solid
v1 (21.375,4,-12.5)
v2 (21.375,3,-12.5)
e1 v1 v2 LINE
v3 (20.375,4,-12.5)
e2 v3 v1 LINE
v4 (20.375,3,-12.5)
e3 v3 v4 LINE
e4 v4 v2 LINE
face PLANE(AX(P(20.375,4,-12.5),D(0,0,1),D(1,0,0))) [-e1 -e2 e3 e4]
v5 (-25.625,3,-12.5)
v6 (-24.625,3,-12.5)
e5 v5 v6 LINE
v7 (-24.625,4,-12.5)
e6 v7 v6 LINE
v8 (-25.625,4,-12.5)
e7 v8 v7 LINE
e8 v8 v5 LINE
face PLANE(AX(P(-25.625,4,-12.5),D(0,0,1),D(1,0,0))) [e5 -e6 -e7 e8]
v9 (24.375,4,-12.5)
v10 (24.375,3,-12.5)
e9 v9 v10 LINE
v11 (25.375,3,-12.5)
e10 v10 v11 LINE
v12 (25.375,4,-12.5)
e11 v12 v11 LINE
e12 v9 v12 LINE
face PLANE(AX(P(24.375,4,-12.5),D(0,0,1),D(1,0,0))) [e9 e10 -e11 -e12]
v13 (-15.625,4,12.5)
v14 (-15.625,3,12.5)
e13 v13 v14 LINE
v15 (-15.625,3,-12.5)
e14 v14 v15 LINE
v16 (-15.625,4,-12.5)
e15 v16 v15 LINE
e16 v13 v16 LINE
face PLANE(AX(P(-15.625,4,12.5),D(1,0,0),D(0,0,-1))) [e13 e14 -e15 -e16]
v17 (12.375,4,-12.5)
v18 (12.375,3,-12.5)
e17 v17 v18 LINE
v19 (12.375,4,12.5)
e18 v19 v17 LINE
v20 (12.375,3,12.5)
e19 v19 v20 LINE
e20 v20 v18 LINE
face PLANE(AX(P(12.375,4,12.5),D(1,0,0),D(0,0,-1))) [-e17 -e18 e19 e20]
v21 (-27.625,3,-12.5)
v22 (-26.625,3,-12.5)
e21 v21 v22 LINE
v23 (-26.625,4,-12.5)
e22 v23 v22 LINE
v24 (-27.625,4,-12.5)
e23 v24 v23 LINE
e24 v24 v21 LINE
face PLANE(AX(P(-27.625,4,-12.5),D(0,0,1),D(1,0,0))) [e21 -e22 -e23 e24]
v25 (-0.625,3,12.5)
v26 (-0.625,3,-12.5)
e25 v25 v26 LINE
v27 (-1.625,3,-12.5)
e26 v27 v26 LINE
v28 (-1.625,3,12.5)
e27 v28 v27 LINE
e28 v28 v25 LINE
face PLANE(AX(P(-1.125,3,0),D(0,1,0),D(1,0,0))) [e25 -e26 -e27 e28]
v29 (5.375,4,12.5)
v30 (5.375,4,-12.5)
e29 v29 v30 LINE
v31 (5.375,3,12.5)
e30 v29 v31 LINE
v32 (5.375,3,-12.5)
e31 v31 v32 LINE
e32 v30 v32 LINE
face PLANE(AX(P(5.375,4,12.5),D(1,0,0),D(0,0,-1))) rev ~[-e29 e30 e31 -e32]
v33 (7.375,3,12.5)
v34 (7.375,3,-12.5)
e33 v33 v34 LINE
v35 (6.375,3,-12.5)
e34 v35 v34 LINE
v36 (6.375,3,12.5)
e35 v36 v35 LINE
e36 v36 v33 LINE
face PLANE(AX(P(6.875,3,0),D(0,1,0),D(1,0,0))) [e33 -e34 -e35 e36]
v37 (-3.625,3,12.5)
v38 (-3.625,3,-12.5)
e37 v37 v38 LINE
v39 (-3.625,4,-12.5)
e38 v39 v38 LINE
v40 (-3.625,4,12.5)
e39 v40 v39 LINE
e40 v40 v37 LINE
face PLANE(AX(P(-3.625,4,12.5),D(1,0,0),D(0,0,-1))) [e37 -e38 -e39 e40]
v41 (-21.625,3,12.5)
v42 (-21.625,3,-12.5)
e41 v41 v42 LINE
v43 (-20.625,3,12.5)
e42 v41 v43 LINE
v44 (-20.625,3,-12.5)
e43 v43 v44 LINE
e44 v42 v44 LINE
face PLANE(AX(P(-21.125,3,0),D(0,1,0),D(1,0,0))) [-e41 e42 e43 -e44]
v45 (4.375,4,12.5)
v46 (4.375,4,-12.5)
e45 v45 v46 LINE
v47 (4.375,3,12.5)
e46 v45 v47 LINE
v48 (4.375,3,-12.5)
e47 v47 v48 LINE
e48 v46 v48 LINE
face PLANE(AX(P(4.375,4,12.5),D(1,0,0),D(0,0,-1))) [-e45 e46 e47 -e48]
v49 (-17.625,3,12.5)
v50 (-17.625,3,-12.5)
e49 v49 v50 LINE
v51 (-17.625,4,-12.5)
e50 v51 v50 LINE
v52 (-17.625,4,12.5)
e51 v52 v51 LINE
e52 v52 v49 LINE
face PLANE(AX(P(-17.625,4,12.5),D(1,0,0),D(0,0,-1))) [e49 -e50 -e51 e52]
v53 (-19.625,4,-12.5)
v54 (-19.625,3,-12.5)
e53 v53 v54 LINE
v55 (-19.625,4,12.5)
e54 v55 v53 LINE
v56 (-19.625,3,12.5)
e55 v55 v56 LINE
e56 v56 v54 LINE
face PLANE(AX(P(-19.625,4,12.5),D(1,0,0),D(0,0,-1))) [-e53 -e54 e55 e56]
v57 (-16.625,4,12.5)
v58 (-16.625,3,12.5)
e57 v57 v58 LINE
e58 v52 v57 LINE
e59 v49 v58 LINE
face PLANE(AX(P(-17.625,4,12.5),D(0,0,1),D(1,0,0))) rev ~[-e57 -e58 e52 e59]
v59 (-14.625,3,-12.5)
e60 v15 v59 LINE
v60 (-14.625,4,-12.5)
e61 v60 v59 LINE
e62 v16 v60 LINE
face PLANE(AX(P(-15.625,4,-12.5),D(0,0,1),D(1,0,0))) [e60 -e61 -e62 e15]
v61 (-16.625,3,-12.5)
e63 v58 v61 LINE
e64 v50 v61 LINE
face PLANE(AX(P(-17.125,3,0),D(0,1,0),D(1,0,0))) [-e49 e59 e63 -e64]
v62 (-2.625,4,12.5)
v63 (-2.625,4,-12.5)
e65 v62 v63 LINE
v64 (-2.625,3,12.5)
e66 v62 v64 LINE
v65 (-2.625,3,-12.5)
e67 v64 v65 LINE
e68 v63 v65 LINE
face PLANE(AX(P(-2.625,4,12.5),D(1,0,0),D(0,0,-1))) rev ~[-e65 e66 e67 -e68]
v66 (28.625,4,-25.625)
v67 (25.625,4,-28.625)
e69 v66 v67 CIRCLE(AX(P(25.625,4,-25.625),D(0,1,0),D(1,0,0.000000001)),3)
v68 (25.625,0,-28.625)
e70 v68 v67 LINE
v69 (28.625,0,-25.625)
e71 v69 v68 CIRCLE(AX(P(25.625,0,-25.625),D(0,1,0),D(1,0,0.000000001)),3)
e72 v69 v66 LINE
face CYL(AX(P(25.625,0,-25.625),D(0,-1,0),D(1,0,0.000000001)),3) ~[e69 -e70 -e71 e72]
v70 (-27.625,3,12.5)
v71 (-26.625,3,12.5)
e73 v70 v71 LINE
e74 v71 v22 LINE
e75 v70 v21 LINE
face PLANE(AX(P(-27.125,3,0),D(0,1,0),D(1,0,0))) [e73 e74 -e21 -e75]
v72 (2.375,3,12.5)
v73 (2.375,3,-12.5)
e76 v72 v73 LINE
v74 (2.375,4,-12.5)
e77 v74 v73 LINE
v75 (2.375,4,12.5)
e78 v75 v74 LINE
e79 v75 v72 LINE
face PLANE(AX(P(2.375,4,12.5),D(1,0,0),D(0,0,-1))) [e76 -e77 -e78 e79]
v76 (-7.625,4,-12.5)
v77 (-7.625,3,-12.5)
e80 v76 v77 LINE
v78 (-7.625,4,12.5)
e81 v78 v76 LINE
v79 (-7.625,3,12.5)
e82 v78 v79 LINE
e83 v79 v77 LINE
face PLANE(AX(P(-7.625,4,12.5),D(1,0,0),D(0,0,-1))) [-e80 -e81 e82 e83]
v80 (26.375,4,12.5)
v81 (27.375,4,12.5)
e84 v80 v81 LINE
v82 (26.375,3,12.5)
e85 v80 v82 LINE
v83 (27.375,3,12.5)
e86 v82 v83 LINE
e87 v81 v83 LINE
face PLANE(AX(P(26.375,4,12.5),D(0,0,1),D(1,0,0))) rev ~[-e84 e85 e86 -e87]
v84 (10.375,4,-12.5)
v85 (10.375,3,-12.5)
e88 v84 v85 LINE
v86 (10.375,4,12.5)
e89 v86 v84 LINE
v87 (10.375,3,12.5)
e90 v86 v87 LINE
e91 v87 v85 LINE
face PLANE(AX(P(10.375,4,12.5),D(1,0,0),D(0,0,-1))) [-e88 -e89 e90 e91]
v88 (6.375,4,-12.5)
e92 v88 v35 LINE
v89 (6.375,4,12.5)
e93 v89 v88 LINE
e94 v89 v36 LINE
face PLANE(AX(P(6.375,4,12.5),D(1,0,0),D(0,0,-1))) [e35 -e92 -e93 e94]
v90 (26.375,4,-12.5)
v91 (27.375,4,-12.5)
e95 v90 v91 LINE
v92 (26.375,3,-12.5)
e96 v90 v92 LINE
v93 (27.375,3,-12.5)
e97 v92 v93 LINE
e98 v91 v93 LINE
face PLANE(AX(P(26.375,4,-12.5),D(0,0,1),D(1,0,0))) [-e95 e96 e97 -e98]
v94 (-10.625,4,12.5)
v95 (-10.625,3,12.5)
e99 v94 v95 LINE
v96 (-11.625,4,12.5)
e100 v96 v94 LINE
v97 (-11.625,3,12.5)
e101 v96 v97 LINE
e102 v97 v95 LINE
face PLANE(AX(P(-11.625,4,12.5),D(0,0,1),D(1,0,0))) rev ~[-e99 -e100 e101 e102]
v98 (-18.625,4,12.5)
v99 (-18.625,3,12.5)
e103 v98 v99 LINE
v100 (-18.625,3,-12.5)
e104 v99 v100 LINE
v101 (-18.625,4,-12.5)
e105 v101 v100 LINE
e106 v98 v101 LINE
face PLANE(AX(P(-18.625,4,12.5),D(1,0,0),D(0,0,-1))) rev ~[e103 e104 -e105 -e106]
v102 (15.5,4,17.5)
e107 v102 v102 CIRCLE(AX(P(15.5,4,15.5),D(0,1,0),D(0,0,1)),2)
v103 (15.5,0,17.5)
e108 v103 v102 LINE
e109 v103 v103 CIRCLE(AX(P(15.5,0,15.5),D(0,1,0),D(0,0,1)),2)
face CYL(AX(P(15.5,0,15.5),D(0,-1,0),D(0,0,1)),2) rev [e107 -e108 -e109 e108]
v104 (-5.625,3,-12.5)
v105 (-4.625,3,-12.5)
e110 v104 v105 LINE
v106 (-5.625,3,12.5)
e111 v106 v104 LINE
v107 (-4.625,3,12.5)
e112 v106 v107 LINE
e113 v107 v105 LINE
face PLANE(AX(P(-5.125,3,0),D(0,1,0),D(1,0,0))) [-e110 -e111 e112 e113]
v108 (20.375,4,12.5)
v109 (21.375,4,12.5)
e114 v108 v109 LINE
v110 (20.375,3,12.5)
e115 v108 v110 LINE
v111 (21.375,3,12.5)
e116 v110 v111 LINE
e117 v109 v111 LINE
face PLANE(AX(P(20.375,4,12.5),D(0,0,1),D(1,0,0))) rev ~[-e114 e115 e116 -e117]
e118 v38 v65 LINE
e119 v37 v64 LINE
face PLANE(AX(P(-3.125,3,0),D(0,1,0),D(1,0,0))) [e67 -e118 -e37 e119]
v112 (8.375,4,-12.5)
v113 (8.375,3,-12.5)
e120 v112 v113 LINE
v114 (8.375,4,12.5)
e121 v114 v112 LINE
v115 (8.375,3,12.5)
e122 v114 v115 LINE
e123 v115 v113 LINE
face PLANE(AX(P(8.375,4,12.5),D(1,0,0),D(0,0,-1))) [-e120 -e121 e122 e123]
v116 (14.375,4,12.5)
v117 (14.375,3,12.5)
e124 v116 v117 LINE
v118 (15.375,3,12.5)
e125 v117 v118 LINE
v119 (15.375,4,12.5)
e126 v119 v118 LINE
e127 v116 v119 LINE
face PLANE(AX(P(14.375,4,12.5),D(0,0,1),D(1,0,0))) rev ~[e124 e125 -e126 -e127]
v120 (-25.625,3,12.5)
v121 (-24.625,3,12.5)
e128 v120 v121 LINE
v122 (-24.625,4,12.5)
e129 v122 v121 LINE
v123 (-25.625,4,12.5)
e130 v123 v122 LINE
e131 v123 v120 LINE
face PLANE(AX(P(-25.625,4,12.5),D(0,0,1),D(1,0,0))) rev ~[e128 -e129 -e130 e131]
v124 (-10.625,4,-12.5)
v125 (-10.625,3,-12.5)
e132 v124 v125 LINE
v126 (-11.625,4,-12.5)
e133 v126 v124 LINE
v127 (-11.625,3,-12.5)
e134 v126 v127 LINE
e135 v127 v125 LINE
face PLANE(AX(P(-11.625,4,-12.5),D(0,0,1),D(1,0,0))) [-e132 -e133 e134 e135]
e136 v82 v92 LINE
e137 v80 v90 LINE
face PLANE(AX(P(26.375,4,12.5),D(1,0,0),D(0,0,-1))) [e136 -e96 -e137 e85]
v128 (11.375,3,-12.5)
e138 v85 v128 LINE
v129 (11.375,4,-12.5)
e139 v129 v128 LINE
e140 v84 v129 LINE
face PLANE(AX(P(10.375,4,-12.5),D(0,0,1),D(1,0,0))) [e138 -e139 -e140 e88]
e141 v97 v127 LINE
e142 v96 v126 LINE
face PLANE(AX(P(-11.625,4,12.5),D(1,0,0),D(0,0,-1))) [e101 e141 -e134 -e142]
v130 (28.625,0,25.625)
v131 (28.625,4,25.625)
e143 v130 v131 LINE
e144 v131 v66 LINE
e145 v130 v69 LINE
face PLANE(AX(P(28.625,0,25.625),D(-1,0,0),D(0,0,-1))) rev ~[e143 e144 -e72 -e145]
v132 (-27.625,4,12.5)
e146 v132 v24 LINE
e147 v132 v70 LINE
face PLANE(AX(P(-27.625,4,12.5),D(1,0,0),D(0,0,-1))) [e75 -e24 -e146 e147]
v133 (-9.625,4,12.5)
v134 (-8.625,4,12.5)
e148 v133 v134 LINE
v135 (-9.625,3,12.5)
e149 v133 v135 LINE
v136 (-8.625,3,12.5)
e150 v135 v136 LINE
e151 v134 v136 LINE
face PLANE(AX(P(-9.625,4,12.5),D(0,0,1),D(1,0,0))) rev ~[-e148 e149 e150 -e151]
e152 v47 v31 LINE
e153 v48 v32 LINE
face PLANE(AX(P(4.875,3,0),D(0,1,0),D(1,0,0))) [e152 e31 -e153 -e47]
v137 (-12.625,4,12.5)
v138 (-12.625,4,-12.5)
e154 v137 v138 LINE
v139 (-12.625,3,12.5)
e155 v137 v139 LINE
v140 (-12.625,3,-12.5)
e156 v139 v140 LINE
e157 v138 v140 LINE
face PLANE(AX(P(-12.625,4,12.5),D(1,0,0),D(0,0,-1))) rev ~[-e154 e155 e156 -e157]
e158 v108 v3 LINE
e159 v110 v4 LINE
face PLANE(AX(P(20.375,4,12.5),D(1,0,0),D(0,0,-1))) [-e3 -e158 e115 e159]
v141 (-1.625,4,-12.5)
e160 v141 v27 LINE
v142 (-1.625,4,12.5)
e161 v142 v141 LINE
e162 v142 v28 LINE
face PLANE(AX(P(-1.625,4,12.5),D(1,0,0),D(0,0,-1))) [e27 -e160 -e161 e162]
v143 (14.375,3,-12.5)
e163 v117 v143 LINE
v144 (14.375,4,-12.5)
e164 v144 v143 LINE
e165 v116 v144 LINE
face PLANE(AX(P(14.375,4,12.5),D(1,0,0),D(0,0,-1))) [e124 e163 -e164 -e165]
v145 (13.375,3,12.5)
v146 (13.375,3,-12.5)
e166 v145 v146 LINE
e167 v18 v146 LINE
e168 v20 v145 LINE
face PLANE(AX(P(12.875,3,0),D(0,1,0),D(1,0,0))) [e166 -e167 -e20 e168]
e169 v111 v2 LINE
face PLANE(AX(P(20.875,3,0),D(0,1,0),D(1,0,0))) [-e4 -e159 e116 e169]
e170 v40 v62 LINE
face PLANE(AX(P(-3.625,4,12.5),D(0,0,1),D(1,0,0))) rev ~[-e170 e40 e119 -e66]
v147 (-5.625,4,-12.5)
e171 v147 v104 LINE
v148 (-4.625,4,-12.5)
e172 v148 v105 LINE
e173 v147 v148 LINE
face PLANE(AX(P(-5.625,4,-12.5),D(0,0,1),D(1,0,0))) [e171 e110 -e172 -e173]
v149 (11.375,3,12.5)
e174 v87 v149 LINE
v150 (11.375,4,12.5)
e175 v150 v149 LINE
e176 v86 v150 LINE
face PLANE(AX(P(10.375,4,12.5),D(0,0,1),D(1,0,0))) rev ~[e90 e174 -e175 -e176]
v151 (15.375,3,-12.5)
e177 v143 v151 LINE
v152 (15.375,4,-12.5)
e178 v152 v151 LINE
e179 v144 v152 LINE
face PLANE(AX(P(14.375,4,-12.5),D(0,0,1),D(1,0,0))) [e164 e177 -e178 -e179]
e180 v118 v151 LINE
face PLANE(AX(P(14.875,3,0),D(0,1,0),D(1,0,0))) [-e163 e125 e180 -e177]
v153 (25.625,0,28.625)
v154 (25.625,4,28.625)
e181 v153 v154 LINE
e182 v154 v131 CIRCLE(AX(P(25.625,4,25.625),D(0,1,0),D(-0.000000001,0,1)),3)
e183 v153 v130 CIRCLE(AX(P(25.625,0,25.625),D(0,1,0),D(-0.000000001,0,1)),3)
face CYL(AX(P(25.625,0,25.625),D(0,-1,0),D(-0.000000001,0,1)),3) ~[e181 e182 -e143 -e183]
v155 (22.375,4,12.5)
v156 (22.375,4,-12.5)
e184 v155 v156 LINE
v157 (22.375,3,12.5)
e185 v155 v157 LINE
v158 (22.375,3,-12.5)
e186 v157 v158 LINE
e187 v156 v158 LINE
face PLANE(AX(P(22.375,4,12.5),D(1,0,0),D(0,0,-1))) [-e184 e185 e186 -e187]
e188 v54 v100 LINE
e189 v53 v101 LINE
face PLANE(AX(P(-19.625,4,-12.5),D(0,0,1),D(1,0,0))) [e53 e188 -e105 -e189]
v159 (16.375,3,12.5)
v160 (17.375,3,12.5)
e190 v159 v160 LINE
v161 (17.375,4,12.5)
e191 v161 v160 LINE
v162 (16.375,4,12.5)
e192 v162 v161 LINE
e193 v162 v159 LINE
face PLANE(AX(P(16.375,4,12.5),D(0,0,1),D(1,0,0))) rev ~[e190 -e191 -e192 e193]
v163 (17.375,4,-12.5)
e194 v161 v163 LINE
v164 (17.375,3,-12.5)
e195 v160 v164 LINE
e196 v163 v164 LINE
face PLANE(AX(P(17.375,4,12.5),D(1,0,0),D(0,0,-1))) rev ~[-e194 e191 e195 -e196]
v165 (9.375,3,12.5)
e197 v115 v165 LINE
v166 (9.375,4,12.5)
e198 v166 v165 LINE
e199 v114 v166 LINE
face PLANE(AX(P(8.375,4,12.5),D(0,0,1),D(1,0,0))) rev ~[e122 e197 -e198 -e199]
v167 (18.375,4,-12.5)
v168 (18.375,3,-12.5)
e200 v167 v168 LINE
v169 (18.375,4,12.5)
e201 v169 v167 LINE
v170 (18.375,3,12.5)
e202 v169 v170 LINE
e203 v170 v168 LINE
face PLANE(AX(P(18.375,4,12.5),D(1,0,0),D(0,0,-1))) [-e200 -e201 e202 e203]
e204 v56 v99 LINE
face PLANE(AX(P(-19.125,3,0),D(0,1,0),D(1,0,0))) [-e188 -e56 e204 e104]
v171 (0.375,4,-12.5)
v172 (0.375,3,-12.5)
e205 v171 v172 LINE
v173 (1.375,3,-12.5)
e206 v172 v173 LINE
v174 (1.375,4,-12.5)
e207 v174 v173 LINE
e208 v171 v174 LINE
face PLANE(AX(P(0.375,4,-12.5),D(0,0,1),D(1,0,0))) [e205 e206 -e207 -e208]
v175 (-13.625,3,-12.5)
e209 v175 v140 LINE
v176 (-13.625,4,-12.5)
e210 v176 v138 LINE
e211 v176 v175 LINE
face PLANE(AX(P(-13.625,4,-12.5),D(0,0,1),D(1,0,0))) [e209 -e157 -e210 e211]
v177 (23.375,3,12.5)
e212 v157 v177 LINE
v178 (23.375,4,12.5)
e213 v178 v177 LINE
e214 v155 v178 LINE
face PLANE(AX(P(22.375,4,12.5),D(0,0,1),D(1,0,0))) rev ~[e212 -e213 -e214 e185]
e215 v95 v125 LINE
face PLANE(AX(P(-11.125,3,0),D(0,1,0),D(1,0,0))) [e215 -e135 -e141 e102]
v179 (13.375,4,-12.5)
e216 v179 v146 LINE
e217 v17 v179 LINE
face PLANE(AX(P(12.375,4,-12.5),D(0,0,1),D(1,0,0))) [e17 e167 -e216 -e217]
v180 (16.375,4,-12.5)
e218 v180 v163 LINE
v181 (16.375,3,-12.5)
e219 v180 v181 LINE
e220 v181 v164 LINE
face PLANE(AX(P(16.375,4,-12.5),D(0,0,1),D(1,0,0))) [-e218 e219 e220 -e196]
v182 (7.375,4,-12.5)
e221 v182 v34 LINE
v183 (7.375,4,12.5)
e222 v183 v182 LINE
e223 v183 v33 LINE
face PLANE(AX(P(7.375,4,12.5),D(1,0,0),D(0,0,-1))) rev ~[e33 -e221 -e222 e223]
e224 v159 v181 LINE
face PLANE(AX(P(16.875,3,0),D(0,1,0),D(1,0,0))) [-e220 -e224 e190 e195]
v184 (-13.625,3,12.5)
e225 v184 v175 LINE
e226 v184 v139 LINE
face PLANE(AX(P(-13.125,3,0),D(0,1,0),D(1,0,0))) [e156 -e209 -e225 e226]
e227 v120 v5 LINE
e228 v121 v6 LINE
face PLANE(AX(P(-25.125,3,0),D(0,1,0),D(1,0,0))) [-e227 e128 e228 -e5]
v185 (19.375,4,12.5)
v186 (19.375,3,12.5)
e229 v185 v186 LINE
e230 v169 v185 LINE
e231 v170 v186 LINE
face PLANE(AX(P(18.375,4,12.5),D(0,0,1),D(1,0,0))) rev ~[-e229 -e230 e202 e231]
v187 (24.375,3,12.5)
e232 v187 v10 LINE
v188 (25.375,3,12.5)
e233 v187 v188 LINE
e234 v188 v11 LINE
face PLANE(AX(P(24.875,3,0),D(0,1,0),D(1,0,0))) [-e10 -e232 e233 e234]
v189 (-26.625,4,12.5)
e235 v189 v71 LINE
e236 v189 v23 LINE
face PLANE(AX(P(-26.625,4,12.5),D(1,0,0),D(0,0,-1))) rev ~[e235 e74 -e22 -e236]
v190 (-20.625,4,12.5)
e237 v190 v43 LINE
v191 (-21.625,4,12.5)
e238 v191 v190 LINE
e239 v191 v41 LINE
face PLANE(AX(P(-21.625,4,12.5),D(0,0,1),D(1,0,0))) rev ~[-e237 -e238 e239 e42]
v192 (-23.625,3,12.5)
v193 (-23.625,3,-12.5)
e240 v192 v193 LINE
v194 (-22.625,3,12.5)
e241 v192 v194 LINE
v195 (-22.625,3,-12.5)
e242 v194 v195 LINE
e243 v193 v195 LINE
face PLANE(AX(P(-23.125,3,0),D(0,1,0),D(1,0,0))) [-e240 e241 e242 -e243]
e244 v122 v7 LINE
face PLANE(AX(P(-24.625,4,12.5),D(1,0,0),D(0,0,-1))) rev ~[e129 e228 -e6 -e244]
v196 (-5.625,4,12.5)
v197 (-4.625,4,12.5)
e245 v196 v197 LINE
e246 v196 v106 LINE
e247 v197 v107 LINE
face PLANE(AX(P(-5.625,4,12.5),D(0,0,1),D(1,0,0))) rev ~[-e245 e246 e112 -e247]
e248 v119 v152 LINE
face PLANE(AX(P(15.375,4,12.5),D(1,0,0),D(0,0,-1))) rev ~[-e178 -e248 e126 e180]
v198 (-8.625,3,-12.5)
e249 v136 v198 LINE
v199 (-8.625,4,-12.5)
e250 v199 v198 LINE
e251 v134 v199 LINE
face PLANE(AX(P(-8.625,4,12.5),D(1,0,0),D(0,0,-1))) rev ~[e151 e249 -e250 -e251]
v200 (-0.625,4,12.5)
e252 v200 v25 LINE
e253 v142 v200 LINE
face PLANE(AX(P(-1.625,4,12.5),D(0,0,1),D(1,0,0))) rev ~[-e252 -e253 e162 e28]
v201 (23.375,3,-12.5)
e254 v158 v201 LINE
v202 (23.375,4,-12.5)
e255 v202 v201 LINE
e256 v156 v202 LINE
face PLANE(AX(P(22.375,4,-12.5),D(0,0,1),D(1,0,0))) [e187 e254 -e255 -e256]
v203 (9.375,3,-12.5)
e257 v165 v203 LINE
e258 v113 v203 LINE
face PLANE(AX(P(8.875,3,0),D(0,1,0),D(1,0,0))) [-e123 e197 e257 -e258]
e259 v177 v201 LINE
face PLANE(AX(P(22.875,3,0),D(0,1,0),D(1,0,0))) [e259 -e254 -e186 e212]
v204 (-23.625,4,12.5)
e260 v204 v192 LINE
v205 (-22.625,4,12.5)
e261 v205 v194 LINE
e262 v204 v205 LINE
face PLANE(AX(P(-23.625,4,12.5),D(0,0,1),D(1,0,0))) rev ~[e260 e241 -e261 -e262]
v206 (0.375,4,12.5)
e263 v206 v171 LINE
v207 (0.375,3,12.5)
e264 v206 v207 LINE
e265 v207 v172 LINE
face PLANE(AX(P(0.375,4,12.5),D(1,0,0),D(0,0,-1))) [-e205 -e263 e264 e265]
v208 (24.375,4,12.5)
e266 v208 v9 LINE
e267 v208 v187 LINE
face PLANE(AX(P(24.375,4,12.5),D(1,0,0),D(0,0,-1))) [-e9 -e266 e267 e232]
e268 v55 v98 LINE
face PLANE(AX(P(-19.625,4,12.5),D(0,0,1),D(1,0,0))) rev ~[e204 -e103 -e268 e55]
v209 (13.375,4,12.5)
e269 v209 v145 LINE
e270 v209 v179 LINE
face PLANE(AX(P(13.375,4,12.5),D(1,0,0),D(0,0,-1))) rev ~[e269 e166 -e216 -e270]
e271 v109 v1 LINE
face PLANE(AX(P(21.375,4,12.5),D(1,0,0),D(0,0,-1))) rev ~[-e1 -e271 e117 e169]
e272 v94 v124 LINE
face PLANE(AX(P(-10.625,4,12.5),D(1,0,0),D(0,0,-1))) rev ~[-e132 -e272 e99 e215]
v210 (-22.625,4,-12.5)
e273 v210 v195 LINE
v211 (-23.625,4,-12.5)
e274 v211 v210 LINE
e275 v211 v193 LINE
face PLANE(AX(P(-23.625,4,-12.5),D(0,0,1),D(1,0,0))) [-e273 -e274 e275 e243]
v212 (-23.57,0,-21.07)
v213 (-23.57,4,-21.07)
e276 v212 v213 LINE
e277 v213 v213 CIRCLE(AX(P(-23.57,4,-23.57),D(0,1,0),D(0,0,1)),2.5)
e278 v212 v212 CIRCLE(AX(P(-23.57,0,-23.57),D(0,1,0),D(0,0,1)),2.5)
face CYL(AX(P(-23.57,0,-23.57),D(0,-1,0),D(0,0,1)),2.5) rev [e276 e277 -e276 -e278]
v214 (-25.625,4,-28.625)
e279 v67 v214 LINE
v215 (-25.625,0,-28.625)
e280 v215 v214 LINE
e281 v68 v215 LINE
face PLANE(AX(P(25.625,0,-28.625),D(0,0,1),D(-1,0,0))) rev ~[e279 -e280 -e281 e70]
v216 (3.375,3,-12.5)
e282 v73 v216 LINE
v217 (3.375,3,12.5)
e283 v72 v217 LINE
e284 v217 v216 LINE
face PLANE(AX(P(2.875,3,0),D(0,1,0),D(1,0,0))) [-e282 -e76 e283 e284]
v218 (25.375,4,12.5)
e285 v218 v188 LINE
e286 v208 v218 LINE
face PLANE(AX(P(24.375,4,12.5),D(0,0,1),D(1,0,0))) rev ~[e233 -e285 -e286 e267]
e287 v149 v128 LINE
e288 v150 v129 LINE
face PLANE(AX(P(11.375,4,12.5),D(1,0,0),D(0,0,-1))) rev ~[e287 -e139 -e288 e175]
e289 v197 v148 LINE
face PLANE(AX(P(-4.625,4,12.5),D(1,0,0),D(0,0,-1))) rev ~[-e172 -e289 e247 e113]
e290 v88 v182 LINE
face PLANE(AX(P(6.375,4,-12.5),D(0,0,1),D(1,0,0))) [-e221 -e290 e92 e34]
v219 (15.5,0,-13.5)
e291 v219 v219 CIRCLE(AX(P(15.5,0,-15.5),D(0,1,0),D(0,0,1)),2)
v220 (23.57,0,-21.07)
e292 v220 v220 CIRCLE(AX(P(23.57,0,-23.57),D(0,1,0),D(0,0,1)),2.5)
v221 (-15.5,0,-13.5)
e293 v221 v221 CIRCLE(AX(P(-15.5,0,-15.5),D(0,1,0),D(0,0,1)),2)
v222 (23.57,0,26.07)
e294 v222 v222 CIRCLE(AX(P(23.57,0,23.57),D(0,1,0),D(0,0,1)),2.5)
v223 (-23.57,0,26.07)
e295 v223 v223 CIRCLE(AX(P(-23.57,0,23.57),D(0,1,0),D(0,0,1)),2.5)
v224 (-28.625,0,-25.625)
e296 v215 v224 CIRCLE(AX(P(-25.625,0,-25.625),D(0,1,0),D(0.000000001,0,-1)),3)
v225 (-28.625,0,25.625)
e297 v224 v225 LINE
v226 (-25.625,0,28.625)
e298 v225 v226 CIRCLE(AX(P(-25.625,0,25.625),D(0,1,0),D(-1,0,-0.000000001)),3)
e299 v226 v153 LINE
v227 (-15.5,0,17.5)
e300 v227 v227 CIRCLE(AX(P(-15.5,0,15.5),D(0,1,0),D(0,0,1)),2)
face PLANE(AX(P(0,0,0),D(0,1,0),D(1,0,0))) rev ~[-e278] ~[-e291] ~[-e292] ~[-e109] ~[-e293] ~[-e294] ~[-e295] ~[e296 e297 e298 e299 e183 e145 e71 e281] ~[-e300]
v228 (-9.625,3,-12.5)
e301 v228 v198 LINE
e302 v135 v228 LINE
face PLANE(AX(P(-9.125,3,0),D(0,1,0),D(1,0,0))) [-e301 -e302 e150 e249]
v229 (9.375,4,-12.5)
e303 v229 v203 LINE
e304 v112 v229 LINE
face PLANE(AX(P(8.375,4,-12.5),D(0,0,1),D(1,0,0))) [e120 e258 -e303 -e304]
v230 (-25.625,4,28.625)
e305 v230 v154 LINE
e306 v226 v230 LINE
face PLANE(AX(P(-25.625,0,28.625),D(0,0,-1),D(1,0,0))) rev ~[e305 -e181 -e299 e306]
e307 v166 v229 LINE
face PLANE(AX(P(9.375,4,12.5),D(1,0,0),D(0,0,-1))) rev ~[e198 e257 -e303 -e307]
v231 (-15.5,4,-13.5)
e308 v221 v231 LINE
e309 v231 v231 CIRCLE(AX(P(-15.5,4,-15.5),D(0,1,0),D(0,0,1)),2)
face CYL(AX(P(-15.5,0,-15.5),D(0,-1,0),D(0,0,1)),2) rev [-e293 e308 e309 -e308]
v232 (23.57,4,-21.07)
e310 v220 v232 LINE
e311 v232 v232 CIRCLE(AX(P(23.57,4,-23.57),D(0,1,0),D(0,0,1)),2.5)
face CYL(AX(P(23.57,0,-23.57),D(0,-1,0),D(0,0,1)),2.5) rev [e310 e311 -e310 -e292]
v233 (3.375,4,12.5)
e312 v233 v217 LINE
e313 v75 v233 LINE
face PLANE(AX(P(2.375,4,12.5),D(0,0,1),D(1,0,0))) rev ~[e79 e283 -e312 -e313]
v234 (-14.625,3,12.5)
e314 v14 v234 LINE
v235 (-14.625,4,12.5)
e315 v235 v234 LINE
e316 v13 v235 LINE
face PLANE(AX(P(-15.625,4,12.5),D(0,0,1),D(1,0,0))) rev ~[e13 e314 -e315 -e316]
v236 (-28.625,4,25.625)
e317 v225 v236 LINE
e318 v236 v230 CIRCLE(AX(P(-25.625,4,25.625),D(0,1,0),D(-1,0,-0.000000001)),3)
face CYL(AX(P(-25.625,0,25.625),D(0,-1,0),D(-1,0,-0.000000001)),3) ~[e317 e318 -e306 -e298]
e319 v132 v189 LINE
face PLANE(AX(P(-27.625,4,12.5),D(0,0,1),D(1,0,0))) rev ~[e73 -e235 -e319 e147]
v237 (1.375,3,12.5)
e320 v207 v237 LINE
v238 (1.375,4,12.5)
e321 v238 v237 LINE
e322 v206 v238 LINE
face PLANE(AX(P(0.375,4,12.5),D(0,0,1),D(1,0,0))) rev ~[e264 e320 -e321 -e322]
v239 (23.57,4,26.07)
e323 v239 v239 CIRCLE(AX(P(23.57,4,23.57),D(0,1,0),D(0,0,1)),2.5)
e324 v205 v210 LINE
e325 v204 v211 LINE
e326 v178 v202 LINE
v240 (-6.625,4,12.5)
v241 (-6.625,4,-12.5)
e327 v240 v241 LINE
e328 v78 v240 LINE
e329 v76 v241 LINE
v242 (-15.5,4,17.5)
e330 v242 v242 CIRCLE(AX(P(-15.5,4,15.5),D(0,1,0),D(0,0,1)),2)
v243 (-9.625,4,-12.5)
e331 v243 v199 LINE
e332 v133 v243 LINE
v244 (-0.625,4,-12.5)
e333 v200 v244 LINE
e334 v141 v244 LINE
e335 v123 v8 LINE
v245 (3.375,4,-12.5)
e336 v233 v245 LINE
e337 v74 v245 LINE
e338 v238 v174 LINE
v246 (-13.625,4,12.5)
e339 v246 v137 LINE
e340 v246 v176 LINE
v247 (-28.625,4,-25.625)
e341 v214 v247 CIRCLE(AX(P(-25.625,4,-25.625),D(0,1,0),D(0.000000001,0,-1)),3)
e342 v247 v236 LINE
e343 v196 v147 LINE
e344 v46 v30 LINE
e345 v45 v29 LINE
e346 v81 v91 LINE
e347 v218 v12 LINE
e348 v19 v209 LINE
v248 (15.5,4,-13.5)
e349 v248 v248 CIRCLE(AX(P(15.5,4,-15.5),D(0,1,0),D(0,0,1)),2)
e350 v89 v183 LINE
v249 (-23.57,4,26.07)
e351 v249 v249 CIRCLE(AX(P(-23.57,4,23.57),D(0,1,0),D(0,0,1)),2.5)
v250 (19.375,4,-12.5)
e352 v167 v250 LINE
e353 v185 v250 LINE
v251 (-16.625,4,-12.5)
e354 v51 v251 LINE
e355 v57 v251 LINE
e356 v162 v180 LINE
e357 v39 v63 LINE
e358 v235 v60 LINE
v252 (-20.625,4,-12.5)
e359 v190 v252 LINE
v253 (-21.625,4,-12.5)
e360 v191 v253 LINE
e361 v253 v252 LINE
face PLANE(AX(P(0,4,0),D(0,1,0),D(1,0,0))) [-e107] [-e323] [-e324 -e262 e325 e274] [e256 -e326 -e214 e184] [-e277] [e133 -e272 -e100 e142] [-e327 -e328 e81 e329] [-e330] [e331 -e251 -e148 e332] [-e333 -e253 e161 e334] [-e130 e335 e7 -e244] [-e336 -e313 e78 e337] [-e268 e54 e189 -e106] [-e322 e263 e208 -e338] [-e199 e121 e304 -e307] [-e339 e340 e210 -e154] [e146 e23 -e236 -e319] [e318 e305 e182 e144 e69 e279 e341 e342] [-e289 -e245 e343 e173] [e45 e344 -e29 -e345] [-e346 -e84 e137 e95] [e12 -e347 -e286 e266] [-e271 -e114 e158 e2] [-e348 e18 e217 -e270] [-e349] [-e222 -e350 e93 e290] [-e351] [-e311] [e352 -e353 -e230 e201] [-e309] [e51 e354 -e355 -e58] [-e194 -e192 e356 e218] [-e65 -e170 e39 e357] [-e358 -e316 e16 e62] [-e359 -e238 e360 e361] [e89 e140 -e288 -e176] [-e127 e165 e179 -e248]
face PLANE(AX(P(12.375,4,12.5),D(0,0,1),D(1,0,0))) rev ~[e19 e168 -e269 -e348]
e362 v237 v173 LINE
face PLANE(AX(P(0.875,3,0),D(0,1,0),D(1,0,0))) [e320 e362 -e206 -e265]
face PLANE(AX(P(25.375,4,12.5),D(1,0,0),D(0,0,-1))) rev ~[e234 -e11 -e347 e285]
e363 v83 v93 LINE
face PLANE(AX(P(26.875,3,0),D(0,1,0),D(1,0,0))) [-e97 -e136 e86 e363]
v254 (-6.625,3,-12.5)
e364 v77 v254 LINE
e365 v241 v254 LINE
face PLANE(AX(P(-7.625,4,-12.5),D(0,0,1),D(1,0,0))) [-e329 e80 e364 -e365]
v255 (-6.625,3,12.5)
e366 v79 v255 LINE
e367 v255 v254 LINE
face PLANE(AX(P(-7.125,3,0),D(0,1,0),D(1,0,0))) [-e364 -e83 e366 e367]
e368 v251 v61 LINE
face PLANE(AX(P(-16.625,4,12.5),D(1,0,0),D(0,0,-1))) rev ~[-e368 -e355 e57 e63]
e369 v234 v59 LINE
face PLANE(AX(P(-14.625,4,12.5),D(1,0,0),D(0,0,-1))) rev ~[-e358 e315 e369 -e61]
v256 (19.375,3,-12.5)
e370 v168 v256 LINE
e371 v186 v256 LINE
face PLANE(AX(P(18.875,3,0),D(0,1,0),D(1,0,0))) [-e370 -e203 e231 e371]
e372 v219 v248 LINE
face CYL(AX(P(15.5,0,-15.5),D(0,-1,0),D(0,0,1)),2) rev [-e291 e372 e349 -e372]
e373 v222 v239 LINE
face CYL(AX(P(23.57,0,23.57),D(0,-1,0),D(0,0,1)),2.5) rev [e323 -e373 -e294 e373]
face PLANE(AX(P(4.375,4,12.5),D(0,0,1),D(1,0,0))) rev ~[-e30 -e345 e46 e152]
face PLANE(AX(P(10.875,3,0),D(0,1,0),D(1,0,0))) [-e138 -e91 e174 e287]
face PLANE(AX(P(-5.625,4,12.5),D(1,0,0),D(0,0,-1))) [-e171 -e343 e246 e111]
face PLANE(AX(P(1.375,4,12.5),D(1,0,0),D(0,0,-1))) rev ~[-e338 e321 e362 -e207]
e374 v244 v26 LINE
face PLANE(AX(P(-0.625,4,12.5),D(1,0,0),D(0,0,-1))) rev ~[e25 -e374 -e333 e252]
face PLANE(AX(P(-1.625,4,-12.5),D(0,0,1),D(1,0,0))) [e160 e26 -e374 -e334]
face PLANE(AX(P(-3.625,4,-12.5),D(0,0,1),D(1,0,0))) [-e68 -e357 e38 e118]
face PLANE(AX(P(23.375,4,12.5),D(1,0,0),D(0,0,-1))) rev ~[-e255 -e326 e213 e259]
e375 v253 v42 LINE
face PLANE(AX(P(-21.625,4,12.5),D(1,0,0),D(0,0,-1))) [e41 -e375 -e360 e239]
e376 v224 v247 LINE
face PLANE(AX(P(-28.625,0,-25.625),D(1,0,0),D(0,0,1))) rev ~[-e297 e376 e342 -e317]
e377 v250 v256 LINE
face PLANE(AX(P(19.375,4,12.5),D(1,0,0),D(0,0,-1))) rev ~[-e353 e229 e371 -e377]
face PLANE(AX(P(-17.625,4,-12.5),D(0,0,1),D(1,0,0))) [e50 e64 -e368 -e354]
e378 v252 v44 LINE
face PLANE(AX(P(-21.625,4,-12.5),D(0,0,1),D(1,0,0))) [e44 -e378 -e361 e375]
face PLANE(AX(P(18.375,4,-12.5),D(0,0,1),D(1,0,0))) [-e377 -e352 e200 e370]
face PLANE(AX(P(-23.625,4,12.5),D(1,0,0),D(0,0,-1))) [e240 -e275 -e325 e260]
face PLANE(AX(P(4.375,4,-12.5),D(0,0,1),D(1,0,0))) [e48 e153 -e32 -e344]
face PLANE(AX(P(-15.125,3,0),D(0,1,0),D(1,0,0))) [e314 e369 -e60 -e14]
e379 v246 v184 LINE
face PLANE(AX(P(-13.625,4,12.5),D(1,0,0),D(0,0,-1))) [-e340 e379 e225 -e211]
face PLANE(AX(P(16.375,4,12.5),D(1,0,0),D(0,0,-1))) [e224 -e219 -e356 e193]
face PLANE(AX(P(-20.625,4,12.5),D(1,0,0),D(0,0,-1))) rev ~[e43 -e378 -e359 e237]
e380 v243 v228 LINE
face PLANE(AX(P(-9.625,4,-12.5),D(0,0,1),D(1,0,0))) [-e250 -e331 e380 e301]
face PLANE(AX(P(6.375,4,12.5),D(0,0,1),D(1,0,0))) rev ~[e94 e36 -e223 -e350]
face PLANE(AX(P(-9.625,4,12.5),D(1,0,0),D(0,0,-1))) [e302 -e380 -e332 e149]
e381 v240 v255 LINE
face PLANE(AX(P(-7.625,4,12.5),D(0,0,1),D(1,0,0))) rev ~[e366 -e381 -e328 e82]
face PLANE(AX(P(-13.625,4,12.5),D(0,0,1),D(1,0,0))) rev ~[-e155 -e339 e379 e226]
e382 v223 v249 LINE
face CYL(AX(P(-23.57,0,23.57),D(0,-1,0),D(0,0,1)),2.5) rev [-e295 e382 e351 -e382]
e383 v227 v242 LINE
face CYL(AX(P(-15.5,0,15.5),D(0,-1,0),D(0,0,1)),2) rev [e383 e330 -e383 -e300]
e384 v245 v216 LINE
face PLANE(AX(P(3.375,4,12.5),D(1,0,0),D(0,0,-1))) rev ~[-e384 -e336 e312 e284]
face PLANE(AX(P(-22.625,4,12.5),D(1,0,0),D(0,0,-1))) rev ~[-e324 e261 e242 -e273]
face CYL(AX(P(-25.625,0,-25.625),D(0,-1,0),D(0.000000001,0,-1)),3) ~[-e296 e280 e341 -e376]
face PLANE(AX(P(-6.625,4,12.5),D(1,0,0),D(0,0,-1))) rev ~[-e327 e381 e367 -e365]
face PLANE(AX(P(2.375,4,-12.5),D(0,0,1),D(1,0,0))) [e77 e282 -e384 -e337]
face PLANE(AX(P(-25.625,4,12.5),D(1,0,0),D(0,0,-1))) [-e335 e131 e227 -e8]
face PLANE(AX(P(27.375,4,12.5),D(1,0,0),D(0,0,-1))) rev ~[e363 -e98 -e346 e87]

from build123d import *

# Parameters (mm, degrees)
SKETCH1_R           = 2
SKETCH1_R_2         = 2.5
BOSS_EXTRUDE1_DEPTH = 4
SKETCH2_W           = 1
SKETCH2_H           = 25
CUT_EXTRUDE1_DEPTH  = 1


with BuildPart() as part:
    # Sketch1 → Boss-Extrude1 (new body)
    with BuildSketch(Plane(origin=(0, 0, 0), x_dir=(1, 0, 0), z_dir=(0, 1, 0))):
        with BuildLine():
            Line((25.625, 28.625), (-25.625, 28.625))
            ThreePointArc((-25.625, 28.625), (-27.746320344, 27.746320344), (-28.625, 25.625))
            Line((-28.625, 25.625), (-28.625, -25.625))
            ThreePointArc((-28.625, -25.625), (-27.746320344, -27.746320344), (-25.625, -28.625))
            Line((-25.625, -28.625), (25.625, -28.625))
            ThreePointArc((25.625, -28.625), (27.746320344, -27.746320344), (28.625, -25.625))
            Line((28.625, -25.625), (28.625, 25.625))
            ThreePointArc((28.625, 25.625), (27.746320344, 27.746320344), (25.625, 28.625))
        make_face()
        with Locations(Location((-15.5, 15.5, 0), (0, 0, 270))):
            Circle(SKETCH1_R, mode=Mode.SUBTRACT)
        with Locations(Location((-23.57, 23.57, 0), (0, 0, 270))):
            Circle(SKETCH1_R_2, mode=Mode.SUBTRACT)
        with Locations(Location((23.57, 23.57, 0), (0, 0, 270))):
            Circle(SKETCH1_R_2, mode=Mode.SUBTRACT)
        with Locations(Location((15.5, 15.5, 0), (0, 0, 270))):
            Circle(SKETCH1_R, mode=Mode.SUBTRACT)
        with Locations(Location((15.5, -15.5, 0), (0, 0, 270))):
            Circle(SKETCH1_R, mode=Mode.SUBTRACT)
        with Locations(Location((-15.5, -15.5, 0), (0, 0, 270))):
            Circle(SKETCH1_R, mode=Mode.SUBTRACT)
        with Locations(Location((-23.57, -23.57, 0), (0, 0, 270))):
            Circle(SKETCH1_R_2, mode=Mode.SUBTRACT)
        with Locations(Location((23.57, -23.57, 0), (0, 0, 270))):
            Circle(SKETCH1_R_2, mode=Mode.SUBTRACT)
    extrude(amount=BOSS_EXTRUDE1_DEPTH)

    # Sketch2 → Cut-Extrude1 (cut)
    with BuildSketch(Plane(origin=(0, 4, 0), x_dir=(1, 0, 0), z_dir=(0, 1, 0))):
        with Locations((-27.125, 0)):
            Rectangle(SKETCH2_W, SKETCH2_H)
        with Locations((-25.125, 0)):
            Rectangle(SKETCH2_W, SKETCH2_H)
        with Locations((-23.125, 0)):
            Rectangle(SKETCH2_W, SKETCH2_H)
        with Locations((-21.125, 0)):
            Rectangle(SKETCH2_W, SKETCH2_H)
        with Locations((-19.125, 0)):
            Rectangle(SKETCH2_W, SKETCH2_H)
        with Locations((-17.125, 0)):
            Rectangle(SKETCH2_W, SKETCH2_H)
        with Locations((-15.125, 0)):
            Rectangle(SKETCH2_W, SKETCH2_H)
        with Locations((-13.125, 0)):
            Rectangle(SKETCH2_W, SKETCH2_H)
        with Locations((-11.125, 0)):
            Rectangle(SKETCH2_W, SKETCH2_H)
        with Locations((-9.125, 0)):
            Rectangle(SKETCH2_W, SKETCH2_H)
        with Locations((-7.125, 0)):
            Rectangle(SKETCH2_W, SKETCH2_H)
        with Locations((-5.125, 0)):
            Rectangle(SKETCH2_W, SKETCH2_H)
        with Locations((-3.125, 0)):
            Rectangle(SKETCH2_W, SKETCH2_H)
        with Locations((-1.125, 0)):
            Rectangle(SKETCH2_W, SKETCH2_H)
        with Locations((0.875, 0)):
            Rectangle(SKETCH2_W, SKETCH2_H)
        with Locations((2.875, 0)):
            Rectangle(SKETCH2_W, SKETCH2_H)
        with Locations((4.875, 0)):
            Rectangle(SKETCH2_W, SKETCH2_H)
        with Locations((6.875, 0)):
            Rectangle(SKETCH2_W, SKETCH2_H)
        with Locations((8.875, 0)):
            Rectangle(SKETCH2_W, SKETCH2_H)
        with Locations((10.875, 0)):
            Rectangle(SKETCH2_W, SKETCH2_H)
        with Locations((12.875, 0)):
            Rectangle(SKETCH2_W, SKETCH2_H)
        with Locations((14.875, 0)):
            Rectangle(SKETCH2_W, SKETCH2_H)
        with Locations((16.875, 0)):
            Rectangle(SKETCH2_W, SKETCH2_H)
        with Locations((18.875, 0)):
            Rectangle(SKETCH2_W, SKETCH2_H)
        with Locations((20.875, 0)):
            Rectangle(SKETCH2_W, SKETCH2_H)
        with Locations((22.875, 0)):
            Rectangle(SKETCH2_W, SKETCH2_H)
        with Locations((24.875, 0)):
            Rectangle(SKETCH2_W, SKETCH2_H)
        with Locations((26.875, 0)):
            Rectangle(SKETCH2_W, SKETCH2_H)
    extrude(amount=-CUT_EXTRUDE1_DEPTH, mode=Mode.SUBTRACT)


solid = part.part
